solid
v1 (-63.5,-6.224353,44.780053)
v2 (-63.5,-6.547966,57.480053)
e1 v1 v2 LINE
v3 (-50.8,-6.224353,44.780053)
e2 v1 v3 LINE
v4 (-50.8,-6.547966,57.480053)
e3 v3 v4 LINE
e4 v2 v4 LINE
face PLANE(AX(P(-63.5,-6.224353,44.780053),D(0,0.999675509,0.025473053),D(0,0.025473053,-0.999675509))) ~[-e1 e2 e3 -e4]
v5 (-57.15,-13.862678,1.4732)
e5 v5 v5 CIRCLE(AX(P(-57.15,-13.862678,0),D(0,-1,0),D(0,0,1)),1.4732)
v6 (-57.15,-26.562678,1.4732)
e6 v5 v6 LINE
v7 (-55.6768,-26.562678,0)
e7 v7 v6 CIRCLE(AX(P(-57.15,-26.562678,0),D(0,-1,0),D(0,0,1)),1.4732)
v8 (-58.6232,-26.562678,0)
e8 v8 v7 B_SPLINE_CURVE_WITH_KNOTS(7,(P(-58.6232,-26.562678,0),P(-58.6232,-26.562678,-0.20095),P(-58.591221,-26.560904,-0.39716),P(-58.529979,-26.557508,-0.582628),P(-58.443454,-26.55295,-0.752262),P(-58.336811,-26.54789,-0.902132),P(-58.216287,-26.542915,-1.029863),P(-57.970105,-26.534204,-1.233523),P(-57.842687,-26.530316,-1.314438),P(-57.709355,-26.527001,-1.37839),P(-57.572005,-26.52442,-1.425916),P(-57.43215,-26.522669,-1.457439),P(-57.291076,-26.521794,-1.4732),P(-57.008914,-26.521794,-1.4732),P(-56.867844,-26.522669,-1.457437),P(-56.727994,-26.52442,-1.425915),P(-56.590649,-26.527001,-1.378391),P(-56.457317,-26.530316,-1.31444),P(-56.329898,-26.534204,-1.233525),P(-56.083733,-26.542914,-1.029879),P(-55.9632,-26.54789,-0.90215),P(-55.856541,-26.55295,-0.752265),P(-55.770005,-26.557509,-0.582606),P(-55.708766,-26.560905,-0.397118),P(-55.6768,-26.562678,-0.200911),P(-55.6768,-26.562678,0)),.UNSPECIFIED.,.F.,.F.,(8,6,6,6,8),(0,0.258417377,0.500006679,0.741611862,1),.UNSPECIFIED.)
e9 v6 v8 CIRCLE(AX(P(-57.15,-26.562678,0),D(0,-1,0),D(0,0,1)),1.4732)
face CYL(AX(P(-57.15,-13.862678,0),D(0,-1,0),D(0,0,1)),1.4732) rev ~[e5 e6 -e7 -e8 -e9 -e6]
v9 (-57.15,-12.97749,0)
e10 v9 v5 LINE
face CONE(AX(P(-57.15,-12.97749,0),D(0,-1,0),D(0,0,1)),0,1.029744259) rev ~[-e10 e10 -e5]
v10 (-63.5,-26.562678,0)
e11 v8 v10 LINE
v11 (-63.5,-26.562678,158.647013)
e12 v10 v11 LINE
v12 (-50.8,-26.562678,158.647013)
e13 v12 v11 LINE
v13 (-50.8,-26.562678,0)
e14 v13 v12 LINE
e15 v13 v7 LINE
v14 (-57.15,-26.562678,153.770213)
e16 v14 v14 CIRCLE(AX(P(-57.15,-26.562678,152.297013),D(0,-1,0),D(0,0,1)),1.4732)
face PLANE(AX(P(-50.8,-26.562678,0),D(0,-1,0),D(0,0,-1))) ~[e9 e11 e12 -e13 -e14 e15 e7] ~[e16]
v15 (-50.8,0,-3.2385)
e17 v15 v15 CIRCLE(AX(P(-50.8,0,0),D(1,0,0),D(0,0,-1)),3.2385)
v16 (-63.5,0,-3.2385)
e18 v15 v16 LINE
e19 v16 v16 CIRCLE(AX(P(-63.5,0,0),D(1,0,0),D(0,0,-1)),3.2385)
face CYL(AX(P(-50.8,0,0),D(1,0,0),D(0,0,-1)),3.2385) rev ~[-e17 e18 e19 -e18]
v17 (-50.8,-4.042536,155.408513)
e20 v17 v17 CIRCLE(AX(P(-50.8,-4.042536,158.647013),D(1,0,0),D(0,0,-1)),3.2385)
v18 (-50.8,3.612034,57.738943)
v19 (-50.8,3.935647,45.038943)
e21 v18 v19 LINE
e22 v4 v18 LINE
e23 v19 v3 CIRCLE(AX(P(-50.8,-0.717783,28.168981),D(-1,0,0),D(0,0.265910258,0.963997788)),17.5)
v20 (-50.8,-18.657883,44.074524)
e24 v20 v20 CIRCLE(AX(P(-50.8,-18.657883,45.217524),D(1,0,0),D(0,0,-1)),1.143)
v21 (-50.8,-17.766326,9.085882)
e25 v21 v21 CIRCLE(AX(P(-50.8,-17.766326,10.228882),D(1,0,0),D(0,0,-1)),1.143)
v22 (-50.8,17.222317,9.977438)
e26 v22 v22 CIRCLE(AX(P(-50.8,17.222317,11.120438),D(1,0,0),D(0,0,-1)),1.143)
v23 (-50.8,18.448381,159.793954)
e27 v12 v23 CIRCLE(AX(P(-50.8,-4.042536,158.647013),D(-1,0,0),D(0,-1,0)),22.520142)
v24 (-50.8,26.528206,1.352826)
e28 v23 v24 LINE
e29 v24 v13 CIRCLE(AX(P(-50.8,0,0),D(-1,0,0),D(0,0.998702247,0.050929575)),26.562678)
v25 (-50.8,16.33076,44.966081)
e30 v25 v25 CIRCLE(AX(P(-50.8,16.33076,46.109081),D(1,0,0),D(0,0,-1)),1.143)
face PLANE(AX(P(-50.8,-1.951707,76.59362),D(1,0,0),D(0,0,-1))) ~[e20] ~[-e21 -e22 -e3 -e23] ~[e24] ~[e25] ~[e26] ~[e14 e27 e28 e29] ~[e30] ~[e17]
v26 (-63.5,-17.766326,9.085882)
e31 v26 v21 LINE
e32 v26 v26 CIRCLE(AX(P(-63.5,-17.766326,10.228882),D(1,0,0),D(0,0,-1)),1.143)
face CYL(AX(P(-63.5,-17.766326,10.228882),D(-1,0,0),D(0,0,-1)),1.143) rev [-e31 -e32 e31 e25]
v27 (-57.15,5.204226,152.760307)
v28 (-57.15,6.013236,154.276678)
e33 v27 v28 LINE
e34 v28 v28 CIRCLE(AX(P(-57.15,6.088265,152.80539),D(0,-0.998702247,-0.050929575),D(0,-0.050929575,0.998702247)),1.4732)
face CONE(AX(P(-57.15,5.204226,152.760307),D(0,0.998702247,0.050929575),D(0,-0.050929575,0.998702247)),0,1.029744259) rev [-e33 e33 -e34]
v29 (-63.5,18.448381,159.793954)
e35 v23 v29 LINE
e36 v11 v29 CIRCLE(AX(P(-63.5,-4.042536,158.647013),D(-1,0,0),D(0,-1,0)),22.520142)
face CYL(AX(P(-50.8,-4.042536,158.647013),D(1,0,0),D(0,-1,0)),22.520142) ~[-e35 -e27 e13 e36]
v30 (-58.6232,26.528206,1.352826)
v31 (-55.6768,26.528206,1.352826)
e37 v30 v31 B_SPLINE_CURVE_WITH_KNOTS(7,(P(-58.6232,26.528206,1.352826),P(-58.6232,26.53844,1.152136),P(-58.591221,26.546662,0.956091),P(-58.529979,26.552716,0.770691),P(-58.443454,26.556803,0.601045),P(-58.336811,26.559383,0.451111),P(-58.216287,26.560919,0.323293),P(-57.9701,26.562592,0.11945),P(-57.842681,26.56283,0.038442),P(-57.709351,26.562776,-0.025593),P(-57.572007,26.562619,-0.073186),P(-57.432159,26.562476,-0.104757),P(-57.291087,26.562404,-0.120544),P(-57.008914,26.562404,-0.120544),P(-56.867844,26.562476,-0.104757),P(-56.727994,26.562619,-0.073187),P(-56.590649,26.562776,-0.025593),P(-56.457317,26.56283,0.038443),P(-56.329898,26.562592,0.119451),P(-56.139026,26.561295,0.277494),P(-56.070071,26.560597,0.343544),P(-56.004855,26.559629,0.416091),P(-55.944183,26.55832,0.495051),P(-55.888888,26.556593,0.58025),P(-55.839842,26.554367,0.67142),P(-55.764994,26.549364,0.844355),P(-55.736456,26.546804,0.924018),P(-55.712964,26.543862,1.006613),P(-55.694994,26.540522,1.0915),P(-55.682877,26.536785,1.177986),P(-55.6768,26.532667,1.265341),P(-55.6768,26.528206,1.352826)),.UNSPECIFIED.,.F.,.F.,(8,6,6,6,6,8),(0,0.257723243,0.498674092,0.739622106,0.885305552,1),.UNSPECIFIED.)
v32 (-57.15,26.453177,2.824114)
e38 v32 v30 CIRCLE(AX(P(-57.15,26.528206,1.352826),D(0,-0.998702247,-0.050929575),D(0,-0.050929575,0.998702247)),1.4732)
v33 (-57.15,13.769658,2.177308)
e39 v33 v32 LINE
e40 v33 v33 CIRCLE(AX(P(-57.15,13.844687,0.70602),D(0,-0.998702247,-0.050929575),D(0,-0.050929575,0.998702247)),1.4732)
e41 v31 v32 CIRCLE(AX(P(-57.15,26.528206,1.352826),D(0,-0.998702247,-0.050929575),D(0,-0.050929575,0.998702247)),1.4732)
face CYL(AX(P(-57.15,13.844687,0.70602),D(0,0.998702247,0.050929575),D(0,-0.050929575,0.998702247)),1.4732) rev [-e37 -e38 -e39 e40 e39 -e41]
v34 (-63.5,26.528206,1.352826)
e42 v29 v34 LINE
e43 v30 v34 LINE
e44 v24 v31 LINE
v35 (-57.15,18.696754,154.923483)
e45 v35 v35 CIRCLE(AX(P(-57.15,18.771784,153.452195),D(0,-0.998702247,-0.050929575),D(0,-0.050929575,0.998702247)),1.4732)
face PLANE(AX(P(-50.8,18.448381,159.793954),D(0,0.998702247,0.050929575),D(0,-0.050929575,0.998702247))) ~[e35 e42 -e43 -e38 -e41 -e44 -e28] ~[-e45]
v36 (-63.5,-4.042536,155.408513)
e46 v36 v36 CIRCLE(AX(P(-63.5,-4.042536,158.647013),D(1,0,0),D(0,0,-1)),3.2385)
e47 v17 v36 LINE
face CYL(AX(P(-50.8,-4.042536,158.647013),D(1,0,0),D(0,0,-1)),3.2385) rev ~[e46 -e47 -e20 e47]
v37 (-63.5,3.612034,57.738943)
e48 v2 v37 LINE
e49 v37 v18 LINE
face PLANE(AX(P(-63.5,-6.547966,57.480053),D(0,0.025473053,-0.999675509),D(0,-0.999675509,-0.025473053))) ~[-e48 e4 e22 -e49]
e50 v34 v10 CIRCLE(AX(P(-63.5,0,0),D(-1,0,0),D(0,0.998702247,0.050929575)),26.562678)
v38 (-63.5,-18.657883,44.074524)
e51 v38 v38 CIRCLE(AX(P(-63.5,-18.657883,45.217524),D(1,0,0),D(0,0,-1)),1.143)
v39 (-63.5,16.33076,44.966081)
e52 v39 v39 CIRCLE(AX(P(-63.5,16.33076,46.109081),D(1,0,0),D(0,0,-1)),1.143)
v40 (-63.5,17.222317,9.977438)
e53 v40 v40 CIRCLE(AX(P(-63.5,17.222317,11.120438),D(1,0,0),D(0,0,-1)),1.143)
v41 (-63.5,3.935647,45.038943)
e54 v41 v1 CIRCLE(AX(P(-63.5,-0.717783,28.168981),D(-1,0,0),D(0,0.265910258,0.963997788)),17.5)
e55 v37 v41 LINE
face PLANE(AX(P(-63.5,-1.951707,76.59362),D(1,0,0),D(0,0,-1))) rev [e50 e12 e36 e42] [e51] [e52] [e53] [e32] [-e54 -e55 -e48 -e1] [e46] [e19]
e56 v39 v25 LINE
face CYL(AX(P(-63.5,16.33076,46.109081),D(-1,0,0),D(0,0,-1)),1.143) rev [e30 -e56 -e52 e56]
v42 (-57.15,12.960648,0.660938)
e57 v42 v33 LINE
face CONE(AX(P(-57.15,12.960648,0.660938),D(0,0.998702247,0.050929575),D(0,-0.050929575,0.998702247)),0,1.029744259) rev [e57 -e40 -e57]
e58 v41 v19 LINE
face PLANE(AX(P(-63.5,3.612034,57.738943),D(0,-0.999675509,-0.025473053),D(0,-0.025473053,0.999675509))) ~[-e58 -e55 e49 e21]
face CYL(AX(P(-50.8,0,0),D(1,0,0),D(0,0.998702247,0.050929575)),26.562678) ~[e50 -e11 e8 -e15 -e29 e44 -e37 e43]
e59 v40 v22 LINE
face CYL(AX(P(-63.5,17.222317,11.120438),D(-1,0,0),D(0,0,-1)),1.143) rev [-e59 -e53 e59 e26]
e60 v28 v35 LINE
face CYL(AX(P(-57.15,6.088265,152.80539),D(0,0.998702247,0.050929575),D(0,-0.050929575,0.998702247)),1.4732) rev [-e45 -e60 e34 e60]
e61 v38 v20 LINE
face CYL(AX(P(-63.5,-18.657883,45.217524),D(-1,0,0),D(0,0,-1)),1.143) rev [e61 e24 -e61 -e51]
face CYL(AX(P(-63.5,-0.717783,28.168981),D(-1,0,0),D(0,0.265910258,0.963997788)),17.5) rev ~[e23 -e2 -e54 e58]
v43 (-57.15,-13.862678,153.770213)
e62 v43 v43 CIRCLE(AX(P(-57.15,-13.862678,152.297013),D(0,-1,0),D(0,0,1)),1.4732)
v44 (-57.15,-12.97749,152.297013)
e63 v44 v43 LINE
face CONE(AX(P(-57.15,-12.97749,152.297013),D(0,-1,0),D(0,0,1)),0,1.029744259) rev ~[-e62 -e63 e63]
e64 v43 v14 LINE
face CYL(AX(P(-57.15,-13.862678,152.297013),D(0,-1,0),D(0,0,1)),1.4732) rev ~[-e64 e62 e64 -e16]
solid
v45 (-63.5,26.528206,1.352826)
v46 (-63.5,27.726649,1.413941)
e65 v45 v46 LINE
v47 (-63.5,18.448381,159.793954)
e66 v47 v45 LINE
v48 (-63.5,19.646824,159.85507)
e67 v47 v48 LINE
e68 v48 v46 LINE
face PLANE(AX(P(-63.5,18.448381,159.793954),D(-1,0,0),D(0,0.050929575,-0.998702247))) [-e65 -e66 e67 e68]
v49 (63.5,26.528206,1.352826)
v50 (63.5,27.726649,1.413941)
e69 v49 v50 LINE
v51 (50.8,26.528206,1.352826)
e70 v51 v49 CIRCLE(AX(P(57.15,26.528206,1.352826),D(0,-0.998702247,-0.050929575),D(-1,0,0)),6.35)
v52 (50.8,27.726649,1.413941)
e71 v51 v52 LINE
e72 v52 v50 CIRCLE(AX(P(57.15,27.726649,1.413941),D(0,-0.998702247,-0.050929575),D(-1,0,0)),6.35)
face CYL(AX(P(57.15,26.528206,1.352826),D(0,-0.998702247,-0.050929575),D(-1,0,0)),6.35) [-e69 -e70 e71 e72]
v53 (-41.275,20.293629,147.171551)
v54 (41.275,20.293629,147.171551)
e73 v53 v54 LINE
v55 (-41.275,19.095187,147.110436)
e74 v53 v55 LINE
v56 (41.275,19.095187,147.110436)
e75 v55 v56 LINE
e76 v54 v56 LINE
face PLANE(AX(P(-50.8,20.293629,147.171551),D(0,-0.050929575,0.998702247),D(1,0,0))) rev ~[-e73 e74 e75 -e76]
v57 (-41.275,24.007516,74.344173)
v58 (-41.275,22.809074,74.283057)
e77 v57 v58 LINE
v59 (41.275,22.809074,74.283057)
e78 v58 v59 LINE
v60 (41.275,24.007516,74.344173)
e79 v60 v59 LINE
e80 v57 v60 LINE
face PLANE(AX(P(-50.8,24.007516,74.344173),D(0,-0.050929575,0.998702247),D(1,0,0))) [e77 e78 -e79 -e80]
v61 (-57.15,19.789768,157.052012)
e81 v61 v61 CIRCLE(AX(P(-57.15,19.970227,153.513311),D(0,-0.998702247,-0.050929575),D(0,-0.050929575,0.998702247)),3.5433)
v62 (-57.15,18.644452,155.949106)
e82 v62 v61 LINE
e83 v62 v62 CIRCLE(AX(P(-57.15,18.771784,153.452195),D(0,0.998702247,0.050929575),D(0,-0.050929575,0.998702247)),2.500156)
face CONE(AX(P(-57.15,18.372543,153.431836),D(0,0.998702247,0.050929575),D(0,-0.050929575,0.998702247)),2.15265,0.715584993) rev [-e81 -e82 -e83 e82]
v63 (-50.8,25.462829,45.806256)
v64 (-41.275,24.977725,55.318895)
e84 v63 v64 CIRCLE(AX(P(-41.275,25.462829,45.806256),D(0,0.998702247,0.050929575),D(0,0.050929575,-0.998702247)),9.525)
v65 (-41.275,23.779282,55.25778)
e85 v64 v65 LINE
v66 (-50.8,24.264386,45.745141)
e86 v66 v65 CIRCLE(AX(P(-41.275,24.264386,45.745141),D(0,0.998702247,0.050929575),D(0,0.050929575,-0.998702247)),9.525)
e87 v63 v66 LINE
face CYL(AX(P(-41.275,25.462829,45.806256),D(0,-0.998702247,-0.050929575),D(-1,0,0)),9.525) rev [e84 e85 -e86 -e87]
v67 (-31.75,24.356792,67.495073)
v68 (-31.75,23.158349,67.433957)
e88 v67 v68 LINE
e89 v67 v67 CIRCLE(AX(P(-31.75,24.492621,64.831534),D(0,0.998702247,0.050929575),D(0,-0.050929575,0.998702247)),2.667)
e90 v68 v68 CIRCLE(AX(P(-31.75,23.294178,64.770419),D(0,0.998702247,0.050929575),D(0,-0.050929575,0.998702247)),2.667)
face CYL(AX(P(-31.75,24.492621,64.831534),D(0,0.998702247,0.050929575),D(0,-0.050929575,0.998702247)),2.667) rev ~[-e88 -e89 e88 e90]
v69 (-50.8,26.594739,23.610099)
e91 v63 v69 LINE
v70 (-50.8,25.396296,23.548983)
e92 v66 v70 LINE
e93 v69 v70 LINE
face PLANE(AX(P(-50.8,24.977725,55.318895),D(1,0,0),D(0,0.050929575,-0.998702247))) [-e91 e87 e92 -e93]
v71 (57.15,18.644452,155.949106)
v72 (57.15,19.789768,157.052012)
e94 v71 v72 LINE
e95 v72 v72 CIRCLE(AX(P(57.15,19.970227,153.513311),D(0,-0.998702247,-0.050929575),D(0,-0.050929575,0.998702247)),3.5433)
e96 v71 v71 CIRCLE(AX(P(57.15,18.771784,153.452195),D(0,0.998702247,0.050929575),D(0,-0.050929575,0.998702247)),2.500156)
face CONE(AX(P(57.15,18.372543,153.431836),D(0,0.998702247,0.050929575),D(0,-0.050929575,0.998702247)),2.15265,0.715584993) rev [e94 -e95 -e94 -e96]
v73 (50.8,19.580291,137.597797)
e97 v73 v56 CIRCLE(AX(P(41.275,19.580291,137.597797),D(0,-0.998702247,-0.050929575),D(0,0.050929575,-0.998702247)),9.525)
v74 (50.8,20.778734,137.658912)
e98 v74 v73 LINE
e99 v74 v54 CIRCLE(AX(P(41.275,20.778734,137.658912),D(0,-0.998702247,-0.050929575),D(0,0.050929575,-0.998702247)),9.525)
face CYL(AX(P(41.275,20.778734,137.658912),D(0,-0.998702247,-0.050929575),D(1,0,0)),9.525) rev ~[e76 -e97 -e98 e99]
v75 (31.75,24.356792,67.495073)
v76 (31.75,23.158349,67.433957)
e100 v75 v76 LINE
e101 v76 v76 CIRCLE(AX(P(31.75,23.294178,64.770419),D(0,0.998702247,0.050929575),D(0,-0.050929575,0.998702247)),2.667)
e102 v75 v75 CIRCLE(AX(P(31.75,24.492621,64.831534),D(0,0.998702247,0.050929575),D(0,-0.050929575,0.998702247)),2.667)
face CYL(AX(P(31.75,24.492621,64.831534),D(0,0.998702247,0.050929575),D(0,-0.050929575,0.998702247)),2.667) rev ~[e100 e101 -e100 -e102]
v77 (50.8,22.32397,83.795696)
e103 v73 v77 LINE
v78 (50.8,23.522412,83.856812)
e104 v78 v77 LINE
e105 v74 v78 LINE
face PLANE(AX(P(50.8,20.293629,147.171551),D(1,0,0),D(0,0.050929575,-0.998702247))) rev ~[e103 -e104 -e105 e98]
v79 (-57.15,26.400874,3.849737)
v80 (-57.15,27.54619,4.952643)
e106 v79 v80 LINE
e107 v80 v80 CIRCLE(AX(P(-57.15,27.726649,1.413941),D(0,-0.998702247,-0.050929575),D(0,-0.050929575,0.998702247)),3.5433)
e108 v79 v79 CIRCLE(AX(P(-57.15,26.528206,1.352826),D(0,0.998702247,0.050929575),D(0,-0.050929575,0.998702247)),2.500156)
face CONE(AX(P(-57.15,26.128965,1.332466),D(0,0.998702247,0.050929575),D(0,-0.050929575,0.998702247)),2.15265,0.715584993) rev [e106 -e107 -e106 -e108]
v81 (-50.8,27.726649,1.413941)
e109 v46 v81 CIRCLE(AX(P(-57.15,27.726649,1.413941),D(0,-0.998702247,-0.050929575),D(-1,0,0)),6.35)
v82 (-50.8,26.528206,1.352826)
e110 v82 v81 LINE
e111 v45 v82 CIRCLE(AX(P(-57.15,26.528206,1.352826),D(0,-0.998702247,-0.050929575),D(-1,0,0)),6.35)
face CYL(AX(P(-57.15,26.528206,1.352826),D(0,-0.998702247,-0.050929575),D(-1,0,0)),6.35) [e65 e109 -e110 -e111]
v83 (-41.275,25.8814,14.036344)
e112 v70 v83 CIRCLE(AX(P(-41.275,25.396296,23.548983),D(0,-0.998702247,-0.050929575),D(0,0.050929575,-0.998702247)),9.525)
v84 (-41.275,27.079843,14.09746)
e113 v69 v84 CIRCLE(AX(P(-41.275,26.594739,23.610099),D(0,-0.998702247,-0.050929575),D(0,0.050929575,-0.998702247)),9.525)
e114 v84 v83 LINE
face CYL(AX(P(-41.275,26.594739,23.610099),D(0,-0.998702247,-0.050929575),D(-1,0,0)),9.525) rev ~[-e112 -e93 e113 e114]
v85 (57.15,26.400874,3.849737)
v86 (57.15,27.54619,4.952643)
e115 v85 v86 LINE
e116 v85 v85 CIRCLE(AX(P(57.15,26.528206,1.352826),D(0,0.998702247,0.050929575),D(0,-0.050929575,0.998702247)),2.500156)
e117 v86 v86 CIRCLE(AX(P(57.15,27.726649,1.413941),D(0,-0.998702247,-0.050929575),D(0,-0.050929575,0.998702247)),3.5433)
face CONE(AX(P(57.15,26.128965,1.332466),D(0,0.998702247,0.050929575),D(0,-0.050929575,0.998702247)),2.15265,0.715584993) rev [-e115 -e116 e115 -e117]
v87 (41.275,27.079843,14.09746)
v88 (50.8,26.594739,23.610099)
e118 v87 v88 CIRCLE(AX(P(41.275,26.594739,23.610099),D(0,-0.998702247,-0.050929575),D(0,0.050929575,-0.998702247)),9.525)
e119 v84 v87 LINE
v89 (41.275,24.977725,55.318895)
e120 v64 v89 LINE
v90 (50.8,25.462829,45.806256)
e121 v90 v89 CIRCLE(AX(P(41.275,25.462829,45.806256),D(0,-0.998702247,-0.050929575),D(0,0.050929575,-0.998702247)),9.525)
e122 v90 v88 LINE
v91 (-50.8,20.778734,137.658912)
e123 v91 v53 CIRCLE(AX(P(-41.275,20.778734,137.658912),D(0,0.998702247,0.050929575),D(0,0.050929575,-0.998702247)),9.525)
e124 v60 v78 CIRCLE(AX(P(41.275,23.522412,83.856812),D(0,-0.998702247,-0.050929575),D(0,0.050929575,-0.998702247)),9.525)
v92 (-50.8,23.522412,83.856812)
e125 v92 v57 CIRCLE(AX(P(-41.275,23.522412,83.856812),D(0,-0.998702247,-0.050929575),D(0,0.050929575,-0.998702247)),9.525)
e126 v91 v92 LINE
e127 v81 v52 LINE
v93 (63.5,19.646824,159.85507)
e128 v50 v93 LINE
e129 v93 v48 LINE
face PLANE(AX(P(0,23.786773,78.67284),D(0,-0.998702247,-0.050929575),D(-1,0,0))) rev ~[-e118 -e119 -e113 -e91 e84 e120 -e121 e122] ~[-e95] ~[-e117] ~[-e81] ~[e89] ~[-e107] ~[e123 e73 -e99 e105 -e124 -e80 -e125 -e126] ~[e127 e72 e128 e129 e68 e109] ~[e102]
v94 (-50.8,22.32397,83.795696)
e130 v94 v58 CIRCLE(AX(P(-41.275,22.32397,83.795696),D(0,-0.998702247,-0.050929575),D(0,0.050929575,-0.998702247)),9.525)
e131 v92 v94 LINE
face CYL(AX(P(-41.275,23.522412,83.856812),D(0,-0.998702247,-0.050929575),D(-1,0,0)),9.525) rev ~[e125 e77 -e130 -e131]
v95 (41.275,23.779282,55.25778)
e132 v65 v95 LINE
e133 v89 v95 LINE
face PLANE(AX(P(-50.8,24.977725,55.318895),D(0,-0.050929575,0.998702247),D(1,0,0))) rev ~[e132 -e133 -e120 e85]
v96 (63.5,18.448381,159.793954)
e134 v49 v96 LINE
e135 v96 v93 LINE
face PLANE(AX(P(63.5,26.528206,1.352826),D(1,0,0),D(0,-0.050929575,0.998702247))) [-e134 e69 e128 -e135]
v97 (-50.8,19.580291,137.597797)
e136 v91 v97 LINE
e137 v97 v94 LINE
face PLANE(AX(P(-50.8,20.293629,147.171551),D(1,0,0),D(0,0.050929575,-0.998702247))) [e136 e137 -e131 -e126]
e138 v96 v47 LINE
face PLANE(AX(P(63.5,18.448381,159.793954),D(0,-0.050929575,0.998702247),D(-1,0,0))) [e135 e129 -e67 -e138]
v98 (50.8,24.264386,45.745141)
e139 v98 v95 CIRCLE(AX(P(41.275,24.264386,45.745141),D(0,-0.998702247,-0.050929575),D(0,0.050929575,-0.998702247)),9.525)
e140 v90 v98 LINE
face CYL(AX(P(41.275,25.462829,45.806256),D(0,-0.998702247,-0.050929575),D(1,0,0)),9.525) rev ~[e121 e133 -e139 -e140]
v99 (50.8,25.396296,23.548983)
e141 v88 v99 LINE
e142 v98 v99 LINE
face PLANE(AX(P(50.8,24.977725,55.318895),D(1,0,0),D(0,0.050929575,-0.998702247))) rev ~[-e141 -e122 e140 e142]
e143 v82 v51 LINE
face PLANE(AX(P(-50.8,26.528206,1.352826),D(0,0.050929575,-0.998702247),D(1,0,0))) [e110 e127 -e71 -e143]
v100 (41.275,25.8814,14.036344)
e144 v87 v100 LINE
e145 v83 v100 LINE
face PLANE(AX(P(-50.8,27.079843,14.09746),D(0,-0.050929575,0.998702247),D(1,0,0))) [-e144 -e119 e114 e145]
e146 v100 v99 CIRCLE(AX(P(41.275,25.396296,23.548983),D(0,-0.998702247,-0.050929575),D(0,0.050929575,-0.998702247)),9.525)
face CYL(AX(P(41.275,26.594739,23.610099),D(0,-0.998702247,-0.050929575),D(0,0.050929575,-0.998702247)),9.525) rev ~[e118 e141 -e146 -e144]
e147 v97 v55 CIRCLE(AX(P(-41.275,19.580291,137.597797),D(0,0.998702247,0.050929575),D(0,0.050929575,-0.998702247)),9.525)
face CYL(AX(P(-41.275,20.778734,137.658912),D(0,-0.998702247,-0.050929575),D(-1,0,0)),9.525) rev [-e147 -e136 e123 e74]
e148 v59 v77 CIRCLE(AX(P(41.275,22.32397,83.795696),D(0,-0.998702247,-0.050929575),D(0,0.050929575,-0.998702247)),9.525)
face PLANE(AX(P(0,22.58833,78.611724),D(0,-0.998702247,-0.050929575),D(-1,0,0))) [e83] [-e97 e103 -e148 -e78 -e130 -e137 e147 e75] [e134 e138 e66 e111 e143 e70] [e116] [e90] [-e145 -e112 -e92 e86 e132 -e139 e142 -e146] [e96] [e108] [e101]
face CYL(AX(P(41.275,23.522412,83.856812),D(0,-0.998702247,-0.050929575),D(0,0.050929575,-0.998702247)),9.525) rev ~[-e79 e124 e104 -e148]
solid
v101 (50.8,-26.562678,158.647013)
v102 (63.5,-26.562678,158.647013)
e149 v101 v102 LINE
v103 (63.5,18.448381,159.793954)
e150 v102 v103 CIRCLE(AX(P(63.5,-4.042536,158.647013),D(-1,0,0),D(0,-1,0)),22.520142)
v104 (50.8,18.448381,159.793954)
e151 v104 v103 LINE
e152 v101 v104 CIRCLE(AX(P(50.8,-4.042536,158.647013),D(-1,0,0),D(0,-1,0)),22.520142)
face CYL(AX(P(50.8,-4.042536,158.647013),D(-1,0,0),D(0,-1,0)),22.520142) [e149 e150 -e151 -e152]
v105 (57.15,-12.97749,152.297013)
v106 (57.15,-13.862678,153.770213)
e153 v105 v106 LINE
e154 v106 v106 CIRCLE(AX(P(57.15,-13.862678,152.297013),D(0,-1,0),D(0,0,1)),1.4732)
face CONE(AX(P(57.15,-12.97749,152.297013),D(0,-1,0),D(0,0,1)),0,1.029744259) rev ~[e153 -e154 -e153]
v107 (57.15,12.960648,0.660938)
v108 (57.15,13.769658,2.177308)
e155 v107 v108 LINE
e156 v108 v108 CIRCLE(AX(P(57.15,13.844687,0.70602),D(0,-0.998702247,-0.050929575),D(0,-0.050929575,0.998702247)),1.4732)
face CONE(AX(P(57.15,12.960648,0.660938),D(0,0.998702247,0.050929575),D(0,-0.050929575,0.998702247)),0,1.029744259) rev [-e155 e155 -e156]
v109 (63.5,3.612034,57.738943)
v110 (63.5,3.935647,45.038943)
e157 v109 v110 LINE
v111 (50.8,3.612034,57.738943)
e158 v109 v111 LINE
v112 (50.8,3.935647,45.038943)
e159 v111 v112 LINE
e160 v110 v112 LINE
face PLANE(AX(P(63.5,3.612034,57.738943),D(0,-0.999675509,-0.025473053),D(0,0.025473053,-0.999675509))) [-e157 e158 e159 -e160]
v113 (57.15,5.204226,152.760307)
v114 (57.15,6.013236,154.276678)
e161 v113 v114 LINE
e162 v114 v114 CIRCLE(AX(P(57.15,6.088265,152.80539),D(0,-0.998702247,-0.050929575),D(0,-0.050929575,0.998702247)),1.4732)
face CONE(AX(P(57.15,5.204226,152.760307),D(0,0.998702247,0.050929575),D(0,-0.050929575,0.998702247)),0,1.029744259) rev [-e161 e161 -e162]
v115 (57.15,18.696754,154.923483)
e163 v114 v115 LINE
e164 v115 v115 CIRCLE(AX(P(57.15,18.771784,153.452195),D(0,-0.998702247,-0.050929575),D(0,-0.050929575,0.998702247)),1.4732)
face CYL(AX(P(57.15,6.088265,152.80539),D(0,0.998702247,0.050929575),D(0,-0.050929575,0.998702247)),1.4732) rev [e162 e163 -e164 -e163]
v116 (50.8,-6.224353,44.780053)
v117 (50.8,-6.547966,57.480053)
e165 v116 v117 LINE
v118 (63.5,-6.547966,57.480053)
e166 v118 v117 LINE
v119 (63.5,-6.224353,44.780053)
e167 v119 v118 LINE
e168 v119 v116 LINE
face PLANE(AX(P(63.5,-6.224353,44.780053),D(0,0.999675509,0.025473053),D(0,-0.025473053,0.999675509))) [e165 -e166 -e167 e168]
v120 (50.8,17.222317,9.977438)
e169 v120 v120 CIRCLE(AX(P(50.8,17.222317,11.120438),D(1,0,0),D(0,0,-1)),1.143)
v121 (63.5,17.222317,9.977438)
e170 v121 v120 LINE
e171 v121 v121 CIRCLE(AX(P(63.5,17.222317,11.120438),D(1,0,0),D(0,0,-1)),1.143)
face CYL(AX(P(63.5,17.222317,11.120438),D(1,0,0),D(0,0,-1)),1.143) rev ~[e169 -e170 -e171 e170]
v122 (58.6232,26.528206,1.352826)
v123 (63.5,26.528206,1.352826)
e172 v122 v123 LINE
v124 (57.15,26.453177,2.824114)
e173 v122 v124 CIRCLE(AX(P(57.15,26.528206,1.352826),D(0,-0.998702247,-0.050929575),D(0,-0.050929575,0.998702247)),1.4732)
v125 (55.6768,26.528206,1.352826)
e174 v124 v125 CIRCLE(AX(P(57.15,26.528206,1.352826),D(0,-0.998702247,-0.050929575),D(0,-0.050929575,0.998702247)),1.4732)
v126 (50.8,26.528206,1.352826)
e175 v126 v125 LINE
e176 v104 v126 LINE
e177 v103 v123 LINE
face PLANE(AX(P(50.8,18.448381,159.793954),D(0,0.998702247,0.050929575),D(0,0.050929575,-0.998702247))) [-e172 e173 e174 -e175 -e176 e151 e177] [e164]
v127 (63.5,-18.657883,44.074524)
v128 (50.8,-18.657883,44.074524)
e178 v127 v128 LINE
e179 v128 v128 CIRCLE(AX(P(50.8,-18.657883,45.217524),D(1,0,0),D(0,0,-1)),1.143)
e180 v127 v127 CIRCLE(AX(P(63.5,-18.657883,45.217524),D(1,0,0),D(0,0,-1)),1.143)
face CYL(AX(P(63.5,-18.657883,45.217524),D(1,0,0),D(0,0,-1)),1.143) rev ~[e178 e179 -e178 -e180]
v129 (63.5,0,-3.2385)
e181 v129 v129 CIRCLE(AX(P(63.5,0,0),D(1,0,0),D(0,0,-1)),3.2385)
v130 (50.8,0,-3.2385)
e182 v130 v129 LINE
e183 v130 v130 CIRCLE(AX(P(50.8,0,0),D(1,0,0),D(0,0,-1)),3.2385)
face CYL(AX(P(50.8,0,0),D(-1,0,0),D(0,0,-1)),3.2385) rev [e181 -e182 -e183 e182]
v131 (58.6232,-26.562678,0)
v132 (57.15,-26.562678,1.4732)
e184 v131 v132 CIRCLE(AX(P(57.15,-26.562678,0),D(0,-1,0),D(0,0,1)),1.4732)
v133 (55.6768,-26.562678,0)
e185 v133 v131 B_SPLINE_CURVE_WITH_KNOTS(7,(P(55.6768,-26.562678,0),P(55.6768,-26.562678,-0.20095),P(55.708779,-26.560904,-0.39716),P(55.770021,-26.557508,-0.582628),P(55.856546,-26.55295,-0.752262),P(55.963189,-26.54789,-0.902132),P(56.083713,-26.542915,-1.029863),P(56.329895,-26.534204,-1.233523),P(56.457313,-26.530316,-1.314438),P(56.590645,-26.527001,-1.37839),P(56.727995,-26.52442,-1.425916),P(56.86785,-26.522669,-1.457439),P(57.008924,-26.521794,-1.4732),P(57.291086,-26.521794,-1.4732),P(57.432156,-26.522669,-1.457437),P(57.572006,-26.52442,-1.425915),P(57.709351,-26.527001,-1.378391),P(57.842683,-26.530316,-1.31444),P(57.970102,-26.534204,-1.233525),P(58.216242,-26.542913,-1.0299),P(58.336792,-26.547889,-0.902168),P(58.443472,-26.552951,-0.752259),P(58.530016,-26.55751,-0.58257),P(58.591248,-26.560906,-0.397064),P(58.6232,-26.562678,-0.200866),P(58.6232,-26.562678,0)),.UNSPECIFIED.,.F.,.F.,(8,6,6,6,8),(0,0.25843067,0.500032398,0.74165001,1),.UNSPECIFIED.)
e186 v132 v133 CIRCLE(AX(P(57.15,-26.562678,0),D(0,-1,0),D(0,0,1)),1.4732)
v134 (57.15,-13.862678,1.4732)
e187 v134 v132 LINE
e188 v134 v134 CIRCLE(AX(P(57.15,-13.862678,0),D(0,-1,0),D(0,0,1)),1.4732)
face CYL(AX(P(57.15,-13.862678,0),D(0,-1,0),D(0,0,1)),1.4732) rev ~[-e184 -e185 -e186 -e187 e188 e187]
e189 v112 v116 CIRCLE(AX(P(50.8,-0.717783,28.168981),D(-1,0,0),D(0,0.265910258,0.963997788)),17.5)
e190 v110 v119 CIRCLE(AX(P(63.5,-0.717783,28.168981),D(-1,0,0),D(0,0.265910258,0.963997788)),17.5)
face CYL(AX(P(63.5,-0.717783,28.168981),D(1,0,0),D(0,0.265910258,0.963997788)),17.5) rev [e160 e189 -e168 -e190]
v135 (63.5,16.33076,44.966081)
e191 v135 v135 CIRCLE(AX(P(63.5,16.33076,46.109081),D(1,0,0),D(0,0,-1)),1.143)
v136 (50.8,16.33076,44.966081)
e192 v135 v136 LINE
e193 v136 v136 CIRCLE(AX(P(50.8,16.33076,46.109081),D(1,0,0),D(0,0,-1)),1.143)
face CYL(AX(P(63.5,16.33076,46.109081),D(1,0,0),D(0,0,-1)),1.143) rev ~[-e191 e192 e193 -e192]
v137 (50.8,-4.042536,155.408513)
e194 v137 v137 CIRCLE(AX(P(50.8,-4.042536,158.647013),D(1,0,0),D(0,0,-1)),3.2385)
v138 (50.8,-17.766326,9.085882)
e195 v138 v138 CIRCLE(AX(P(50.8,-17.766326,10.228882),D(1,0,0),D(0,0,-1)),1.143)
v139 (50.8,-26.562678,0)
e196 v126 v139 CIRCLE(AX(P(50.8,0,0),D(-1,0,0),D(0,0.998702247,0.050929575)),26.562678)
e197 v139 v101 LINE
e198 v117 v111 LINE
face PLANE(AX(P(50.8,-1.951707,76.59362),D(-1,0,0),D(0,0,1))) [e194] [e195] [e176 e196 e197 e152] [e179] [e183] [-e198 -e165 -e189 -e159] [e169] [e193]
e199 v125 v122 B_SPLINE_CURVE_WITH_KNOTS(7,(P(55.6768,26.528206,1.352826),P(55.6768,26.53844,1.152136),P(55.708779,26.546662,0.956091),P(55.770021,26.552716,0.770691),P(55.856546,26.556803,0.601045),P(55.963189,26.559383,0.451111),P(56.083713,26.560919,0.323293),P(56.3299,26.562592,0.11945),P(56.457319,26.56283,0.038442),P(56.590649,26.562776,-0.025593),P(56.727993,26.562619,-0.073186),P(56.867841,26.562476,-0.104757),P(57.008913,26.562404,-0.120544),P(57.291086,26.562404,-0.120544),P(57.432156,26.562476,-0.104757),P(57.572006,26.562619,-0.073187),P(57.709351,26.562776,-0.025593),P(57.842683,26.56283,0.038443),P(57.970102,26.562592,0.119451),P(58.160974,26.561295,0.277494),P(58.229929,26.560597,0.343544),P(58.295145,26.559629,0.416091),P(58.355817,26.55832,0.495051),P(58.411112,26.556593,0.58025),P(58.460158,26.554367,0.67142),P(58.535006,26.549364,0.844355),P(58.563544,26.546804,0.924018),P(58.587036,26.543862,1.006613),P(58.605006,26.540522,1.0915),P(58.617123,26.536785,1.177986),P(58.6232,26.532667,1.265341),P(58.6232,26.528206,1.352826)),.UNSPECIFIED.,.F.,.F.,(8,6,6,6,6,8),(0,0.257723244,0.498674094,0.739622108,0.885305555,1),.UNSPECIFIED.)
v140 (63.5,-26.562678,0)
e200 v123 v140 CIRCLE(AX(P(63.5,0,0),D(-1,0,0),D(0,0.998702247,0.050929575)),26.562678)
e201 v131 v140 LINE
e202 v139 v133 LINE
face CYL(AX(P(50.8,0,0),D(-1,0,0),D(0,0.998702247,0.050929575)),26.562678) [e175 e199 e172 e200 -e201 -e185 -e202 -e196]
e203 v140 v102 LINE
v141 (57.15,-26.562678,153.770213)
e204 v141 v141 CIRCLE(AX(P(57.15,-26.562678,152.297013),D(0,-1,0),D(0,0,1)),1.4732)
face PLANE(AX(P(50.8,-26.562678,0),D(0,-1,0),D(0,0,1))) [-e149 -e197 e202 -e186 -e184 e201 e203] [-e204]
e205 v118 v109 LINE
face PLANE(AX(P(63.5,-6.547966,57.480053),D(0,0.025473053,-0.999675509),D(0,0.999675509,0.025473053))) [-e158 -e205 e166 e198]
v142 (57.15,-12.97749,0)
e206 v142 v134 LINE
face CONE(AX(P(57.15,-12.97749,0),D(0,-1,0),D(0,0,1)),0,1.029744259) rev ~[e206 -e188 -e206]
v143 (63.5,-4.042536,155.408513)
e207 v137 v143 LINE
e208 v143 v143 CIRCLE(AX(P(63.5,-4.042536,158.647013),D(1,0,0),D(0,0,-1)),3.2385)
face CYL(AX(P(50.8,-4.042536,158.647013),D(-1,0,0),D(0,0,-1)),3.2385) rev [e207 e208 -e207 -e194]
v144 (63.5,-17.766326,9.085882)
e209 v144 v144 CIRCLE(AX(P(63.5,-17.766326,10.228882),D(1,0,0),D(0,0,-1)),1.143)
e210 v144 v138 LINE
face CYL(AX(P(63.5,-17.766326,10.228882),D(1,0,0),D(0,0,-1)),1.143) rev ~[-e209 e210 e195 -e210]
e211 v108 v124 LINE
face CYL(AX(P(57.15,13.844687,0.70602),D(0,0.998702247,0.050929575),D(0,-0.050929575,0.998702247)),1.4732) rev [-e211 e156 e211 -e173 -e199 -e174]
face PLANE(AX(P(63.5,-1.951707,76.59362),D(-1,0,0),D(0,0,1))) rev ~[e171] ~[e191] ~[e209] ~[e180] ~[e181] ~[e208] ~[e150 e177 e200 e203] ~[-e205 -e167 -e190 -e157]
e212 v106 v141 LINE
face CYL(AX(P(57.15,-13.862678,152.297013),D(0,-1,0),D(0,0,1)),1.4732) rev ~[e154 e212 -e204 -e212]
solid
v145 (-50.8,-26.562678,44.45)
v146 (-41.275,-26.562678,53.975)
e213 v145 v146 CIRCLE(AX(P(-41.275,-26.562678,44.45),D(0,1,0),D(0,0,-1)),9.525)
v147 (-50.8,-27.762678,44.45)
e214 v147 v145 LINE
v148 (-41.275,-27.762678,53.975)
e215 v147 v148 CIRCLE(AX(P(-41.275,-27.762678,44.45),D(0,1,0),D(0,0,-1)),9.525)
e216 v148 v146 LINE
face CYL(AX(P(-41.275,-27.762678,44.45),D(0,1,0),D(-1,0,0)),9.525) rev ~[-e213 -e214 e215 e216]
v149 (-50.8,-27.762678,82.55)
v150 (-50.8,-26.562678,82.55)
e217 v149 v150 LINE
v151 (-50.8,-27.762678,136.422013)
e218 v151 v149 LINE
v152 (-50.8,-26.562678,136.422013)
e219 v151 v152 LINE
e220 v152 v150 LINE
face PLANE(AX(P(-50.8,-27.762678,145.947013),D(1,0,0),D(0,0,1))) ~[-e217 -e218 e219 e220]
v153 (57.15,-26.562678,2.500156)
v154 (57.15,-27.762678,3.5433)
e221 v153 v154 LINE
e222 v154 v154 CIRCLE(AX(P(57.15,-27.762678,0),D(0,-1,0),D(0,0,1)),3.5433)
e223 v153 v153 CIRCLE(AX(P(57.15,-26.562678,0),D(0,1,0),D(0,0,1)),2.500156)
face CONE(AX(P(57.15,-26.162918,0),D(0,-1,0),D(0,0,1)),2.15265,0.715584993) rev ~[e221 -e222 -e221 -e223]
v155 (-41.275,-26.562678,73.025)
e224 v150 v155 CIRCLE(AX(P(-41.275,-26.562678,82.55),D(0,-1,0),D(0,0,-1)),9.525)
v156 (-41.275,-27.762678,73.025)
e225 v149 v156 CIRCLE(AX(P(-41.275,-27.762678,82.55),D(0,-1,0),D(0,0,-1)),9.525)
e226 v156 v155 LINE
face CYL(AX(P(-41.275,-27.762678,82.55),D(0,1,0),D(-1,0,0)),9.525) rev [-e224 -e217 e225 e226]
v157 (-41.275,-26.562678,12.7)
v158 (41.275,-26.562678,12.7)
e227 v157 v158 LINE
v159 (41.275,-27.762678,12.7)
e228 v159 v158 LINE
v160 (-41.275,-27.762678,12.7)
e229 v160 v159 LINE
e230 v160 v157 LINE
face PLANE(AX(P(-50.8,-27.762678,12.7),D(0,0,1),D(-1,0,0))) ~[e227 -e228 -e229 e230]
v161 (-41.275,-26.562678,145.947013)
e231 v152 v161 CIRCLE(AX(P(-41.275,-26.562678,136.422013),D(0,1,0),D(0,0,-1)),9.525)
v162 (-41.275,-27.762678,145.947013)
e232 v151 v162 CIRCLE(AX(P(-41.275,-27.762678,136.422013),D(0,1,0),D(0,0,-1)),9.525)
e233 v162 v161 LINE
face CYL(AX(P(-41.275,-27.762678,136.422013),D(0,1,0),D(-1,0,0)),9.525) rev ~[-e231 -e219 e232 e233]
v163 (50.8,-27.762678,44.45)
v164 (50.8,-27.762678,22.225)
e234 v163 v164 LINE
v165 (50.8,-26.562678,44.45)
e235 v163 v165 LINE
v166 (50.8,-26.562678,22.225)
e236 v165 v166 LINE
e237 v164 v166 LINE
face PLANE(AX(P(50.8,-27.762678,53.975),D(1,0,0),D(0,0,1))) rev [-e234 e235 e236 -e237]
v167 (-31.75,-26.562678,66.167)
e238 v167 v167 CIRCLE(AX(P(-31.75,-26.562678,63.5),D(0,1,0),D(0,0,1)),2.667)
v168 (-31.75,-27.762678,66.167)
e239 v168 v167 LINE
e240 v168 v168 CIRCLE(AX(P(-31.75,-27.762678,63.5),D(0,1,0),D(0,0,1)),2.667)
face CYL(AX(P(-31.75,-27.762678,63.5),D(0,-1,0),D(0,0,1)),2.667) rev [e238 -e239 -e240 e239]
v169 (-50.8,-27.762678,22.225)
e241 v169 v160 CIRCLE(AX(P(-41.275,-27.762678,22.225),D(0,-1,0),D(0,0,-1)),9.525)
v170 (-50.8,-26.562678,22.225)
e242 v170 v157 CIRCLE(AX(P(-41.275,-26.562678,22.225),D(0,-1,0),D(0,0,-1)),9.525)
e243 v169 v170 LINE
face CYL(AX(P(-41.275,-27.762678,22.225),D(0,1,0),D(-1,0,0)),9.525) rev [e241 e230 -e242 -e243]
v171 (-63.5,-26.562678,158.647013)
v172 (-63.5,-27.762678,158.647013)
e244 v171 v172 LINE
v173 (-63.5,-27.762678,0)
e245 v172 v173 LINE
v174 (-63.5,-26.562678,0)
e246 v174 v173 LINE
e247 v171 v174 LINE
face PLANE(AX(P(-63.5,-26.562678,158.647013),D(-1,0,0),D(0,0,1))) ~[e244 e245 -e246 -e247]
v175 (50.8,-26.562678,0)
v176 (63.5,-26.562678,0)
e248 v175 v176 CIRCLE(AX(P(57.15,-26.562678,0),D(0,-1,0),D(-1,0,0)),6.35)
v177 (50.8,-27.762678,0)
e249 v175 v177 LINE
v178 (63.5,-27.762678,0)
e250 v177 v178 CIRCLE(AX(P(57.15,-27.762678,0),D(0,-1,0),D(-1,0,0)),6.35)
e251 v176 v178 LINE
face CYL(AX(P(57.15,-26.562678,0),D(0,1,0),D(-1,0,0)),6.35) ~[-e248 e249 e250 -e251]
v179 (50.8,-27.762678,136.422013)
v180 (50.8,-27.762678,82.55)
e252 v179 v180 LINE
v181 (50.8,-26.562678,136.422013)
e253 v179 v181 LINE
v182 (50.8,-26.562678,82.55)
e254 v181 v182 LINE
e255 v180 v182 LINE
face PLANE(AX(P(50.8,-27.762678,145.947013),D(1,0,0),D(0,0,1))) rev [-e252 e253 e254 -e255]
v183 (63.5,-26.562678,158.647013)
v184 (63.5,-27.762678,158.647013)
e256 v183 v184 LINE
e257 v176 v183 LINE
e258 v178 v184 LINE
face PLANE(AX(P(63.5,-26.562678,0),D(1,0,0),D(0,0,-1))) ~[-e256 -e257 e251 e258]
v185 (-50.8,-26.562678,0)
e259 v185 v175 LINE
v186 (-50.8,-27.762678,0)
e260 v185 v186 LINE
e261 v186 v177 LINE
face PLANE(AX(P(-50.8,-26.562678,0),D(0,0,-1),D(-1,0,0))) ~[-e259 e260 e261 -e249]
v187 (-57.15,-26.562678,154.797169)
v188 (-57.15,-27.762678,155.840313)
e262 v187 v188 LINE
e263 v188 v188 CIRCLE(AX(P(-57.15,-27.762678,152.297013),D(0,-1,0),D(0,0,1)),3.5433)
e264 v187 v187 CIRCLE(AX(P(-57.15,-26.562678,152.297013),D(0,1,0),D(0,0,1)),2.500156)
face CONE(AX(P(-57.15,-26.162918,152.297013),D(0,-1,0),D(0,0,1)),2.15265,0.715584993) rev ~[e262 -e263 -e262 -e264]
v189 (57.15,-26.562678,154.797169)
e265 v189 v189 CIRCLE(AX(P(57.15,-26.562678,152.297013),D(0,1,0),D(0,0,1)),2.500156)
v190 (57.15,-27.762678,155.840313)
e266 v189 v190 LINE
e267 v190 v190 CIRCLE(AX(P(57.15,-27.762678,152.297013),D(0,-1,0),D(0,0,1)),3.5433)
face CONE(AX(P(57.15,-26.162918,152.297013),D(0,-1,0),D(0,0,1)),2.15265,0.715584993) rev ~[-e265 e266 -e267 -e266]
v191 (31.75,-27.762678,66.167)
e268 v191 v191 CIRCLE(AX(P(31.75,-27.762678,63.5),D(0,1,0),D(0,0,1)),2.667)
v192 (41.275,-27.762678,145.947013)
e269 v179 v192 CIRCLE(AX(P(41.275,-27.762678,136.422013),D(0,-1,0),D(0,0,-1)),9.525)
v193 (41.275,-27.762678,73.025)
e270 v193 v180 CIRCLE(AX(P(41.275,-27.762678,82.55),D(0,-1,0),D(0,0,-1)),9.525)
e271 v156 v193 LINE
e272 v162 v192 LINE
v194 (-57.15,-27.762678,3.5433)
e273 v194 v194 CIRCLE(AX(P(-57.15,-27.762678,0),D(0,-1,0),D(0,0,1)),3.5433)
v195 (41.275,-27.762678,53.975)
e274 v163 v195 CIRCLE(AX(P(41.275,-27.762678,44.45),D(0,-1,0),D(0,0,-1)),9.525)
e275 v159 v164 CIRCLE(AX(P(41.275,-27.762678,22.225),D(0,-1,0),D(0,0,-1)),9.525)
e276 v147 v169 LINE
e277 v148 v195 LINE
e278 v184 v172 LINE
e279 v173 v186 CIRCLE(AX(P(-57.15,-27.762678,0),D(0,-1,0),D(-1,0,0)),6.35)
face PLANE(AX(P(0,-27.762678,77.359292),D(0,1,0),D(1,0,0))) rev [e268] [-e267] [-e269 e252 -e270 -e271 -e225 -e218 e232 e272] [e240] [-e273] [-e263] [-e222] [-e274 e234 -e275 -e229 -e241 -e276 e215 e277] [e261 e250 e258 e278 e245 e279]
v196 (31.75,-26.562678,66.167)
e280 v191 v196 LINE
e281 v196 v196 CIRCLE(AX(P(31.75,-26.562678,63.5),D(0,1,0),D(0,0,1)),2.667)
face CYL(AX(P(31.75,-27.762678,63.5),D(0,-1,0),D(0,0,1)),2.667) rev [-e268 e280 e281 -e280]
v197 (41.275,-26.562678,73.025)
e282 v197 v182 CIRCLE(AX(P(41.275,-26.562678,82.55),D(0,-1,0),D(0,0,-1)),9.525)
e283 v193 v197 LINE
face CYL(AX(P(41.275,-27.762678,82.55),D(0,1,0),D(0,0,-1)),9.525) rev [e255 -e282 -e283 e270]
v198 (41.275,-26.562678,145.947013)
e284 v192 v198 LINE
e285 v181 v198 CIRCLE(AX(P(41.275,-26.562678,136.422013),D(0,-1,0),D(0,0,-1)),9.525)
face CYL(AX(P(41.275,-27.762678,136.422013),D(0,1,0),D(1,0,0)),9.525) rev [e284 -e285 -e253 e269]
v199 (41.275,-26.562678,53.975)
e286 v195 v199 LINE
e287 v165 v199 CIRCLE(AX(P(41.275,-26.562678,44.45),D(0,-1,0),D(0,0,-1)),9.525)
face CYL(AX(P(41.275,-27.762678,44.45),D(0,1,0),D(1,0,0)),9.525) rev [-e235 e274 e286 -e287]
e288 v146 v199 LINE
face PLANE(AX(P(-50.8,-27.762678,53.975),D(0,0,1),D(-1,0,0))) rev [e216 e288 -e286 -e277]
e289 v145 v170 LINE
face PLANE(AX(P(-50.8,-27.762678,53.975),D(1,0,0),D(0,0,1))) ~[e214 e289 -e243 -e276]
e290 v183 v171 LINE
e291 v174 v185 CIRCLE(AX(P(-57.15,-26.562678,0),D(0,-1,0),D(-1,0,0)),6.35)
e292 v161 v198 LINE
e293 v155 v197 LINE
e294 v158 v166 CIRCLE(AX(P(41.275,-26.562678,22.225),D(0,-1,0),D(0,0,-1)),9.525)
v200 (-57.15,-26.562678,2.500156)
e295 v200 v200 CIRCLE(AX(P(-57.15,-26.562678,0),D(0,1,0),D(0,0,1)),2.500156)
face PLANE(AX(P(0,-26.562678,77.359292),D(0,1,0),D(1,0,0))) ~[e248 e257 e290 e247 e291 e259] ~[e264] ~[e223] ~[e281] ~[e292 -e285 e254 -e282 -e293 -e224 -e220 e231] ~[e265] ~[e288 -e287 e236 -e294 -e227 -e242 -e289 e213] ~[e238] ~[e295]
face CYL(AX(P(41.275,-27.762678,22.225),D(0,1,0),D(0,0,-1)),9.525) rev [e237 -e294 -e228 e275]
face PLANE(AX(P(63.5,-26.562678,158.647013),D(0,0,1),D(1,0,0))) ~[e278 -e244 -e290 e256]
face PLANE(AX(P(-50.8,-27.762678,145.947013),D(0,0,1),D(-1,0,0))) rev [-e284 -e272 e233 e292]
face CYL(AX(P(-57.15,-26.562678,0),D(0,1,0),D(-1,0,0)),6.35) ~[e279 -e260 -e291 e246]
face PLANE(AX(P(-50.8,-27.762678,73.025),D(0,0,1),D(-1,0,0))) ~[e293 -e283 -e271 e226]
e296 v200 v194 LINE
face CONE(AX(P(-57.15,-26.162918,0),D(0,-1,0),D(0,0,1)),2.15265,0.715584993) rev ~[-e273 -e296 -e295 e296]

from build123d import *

# Parameters (mm, degrees)
SKETCH1_R                                     = 3.2385
BOSS_EXTRUDE1_DEPTH                           = 12.7
CUT_EXTRUDE1_DEPTH                            = 12.7
SKETCH5_R                                     = 1.143
CUT_EXTRUDE3_DEPTH                            = 12.7
BOSS_EXTRUDE2_DEPTH                           = 1.2
CSK_FOR_6_FLAT_HEAD_MACHINE_SCREW1_AT_2_COUNT = 2
CSK_FOR_6_FLAT_HEAD_MACHINE_SCREW1_AT_2_PITCH = 114.3
CSK_FOR_6_FLAT_HEAD_MACHINE_SCREW1_AT_3_COUNT = 2
CSK_FOR_6_FLAT_HEAD_MACHINE_SCREW1_AT_3_PITCH = 152.297013138
CSK_FOR_6_FLAT_HEAD_MACHINE_SCREW1_AT_4_COUNT = 2
CSK_FOR_6_FLAT_HEAD_MACHINE_SCREW1_AT_4_PITCH = 190.417620536
SKETCH9_R                                     = 2.667
SKETCH9_W                                     = 101.6
SKETCH9_H                                     = 41.275
SKETCH9_H_2                                   = 72.922013138
CUT_EXTRUDE4_DEPTH                            = 1.2
FILLET1_R                                     = 9.525
F_32_0_116_DIAMETER_HOLE1_AT_2_COUNT          = 2
F_32_0_116_DIAMETER_HOLE1_AT_2_PITCH          = 152.297013138
F_32_0_116_DIAMETER_HOLE1_AT_3_COUNT          = 2
F_32_0_116_DIAMETER_HOLE1_AT_3_PITCH          = 190.417620536
F_32_0_116_DIAMETER_HOLE1_AT_4_COUNT          = 2
F_32_0_116_DIAMETER_HOLE1_AT_4_PITCH          = 114.3


with BuildPart() as part:
    # Sketch1 → Boss-Extrude1 (new body)
    with BuildSketch(Plane(origin=(50.8, 0, 0), x_dir=(0, 0, -1), z_dir=(1, 0, 0))):
        with BuildLine():
            Line((-159.793954402, 18.448381084), (-1.35282588, 26.528205981))
            ThreePointArc((-1.35282588, 26.528205981), (26.554058426, 0.676632501), (0, -26.562677773))
            Line((0, -26.562677773), (-158.647013138, -26.562677773))
            ThreePointArc((-158.647013138, -26.562677773), (-181.159847775, -4.616192333), (-159.793954402, 18.448381084))
        make_face()
        with Locations((-158.647013138, -4.042535555)):
            Circle(SKETCH1_R, mode=Mode.SUBTRACT)
        Circle(SKETCH1_R, mode=Mode.SUBTRACT)
    extrude(amount=BOSS_EXTRUDE1_DEPTH)

    # Sketch2 → Cut-Extrude1 (cut)
    with BuildSketch(Plane(origin=(63.5, 0, 0), x_dir=(0, 0, -1), z_dir=(1, 0, 0))):
        with BuildLine():
            Line((-44.780052565, -6.224353351), (-57.480052565, -6.547966135))
            Line((-57.480052565, -6.547966135), (-57.738942792, 3.612033865))
            Line((-57.738942792, 3.612033865), (-45.038942792, 3.935646649))
            ThreePointArc((-45.038942792, 3.935646649), (-10.674659994, -0.272004444), (-44.780052565, -6.224353351))
        make_face()
    extrude(amount=-CUT_EXTRUDE1_DEPTH, mode=Mode.SUBTRACT)

    # Sketch5 → Cut-Extrude3 (cut)
    with BuildSketch(Plane(origin=(63.5, 0, 0), x_dir=(0, 0, -1), z_dir=(1, 0, 0))):
        with Locations((-46.109081348, 16.330760157)):
            Circle(SKETCH5_R)
        with Locations((-11.120438424, 17.222317018)):
            Circle(SKETCH5_R)
        with Locations((-10.228881564, -17.766325906)):
            Circle(SKETCH5_R)
        with Locations((-45.217524487, -18.657882766)):
            Circle(SKETCH5_R)
    extrude(amount=-CUT_EXTRUDE3_DEPTH, mode=Mode.SUBTRACT)


with BuildPart() as body_2:
    # Mirror2: mirrored copy
    add(part.part.mirror(Plane(origin=(0, 0, 0), x_dir=(0, 0, 1), z_dir=(1, 0, 0))))

    # Sketch12 → #32 (0.116) Diameter Hole1 (revolve, cut)
    with BuildSketch(Plane(origin=(-57.15, 26.528205981, 1.35282588), x_dir=(0, -0.05092957463974298, 0.9987022471322545), z_dir=(1, 0, 0))):
        Polygon((0, 0), (0, 13.585187864), (1.4732, 12.7), (1.4732, 0), align=None)
    f_32_0_116_diameter_hole1 = revolve(axis=Axis((-57.15, 32.869965251, 1.676228679), (0, -0.9987022471322546, -0.05092957463974298)), mode=Mode.SUBTRACT)

    # #32 (0.116) Diameter Hole1 at 2: #32 (0.116) Diameter Hole1 ×2
    with Locations(*[Vector(0, -0.050929574639742965, 0.9987022471322545) * (i * F_32_0_116_DIAMETER_HOLE1_AT_2_PITCH) for i in range(1, F_32_0_116_DIAMETER_HOLE1_AT_2_COUNT)]):
        add(f_32_0_116_diameter_hole1, mode=Mode.SUBTRACT)

    # Mirror4: #32 (0.116) Diameter Hole1 across plane
    add(f_32_0_116_diameter_hole1.mirror(Plane(origin=(0, 0, 0), x_dir=(0, -0.025473053092880782, 0.9996755091359031), z_dir=(0, 0.9996755091359032, 0.025473053092880785))), mode=Mode.SUBTRACT)

    # Mirror4 copy 1 sketch → Mirror4 copy 1 (revolve, cut)
    with BuildSketch(Plane(origin=(-57.15, -26.562677773, 152.297013138), x_dir=(0, 0, 1), z_dir=(1, 0, 0))):
        Polygon((0, 0), (0, -13.585187864), (1.4732, -12.7), (1.4732, 0), align=None)
    revolve(axis=Axis((-57.15, -32.912677773, 152.297013138), (0, -1, 0)), mode=Mode.SUBTRACT)


with BuildPart() as body_3:
    # Sketch6 → Boss-Extrude2 (new body)
    with BuildSketch(Plane(origin=(0, 26.528205981, 1.35282588), x_dir=(1, 0, 0), z_dir=(0, 0.9987022471322545, 0.05092957463974298))):
        with BuildLine():
            Line((-50.8, 0), (50.8, 0))
            ThreePointArc((50.8, 0), (57.15, 6.35), (63.5, 0))
            Line((63.5, 0), (63.5, -158.647013138))
            Line((63.5, -158.647013138), (-63.5, -158.647013138))
            Line((-63.5, -158.647013138), (-63.5, 0))
            ThreePointArc((-63.5, 0), (-57.15, 6.35), (-50.8, 0))
        make_face()
    extrude(amount=BOSS_EXTRUDE2_DEPTH)

    # Sketch8 → CSK for #6 Flat Head Machine Screw1 (revolve, cut)
    with BuildSketch(Plane(origin=(-57.15, 27.726648678, 1.41394137), x_dir=(0, -0.05092957463974298, 0.9987022471322545), z_dir=(1, 0, 0))):
        Polygon((0, 0), (0, 24.524177773), (2.15265, 24.524177773), (2.15265, 1.599759826), (3.5433, 0), align=None)
    csk_for_6_flat_head_machine_screw1 = revolve(axis=Axis((-57.15, 34.068407947, 1.737344169), (0, -0.9987022471322545, -0.05092957463974298)), mode=Mode.SUBTRACT)

    # CSK for #6 Flat Head Machine Screw1 at 2: CSK for #6 Flat Head Machine Screw1 ×2
    with Locations(*[(i * CSK_FOR_6_FLAT_HEAD_MACHINE_SCREW1_AT_2_PITCH, 0, 0) for i in range(1, CSK_FOR_6_FLAT_HEAD_MACHINE_SCREW1_AT_2_COUNT)]):
        add(csk_for_6_flat_head_machine_screw1, mode=Mode.SUBTRACT)

    # CSK for #6 Flat Head Machine Screw1 at 3: CSK for #6 Flat Head Machine Screw1 ×2
    with Locations(*[Vector(0, -0.05092957463974298, 0.9987022471322545) * (i * CSK_FOR_6_FLAT_HEAD_MACHINE_SCREW1_AT_3_PITCH) for i in range(1, CSK_FOR_6_FLAT_HEAD_MACHINE_SCREW1_AT_3_COUNT)]):
        add(csk_for_6_flat_head_machine_screw1, mode=Mode.SUBTRACT)

    # CSK for #6 Flat Head Machine Screw1 at 4: CSK for #6 Flat Head Machine Screw1 ×2
    with Locations(*[Vector(0.6002595751287851, -0.04073374132163811, 0.7987673032768382) * (i * CSK_FOR_6_FLAT_HEAD_MACHINE_SCREW1_AT_4_PITCH) for i in range(1, CSK_FOR_6_FLAT_HEAD_MACHINE_SCREW1_AT_4_COUNT)]):
        add(csk_for_6_flat_head_machine_screw1, mode=Mode.SUBTRACT)

    # Sketch9 → Cut-Extrude4 (cut)
    with BuildSketch(Plane(origin=(0, 27.726648678, 1.41394137), x_dir=(1, 0, 0), z_dir=(0, 0.9987022471322545, 0.05092957463974298))):
        with Locations(Location((-31.75, -63.5, 0), (0, 0, 270))):
            Circle(SKETCH9_R)
        with Locations(Location((31.75, -63.5, 0), (0, 0, 270))):
            Circle(SKETCH9_R)
        with Locations((0, -33.3375)):
            Rectangle(SKETCH9_W, SKETCH9_H)
        with Locations((0, -109.486006569)):
            Rectangle(SKETCH9_W, SKETCH9_H_2)
    extrude(amount=-CUT_EXTRUDE4_DEPTH, mode=Mode.SUBTRACT)

    # Fillet1
    fillet1_edges = [body_3.edges().sort_by_distance(p)[0] for p in [
        (50.8, 24.378503539, 55.288337414),
        (50.8, 26.480621732, 14.066902164),
        (-50.8, 26.480621732, 14.066902164),
        (-50.8, 24.378503539, 55.288337414),
        (50.8, 19.694408031, 147.140993608),
        (50.8, 23.408295142, 74.313615222),
        (-50.8, 23.408295142, 74.313615222),
        (-50.8, 19.694408031, 147.140993608),
    ]]
    fillet(fillet1_edges, radius=FILLET1_R)


with BuildPart() as body_4:
    # Mirror3: mirrored copy
    add(body_3.part.mirror(Plane(origin=(0, 0, 0), x_dir=(0, -0.025473053092880782, 0.9996755091359031), z_dir=(0, 0.9996755091359032, 0.025473053092880785))))


with BuildPart() as part_1:
    add(part.part)

    # #32 (0.116) Diameter Hole1 at 3: #32 (0.116) Diameter Hole1 ×2
    with Locations(*[Vector(0.6002595751287851, -0.040733741321638095, 0.7987673032768382) * (i * F_32_0_116_DIAMETER_HOLE1_AT_3_PITCH) for i in range(1, F_32_0_116_DIAMETER_HOLE1_AT_3_COUNT)]):
        add(f_32_0_116_diameter_hole1, mode=Mode.SUBTRACT)

    # #32 (0.116) Diameter Hole1 at 4: #32 (0.116) Diameter Hole1 ×2
    with Locations(*[(i * F_32_0_116_DIAMETER_HOLE1_AT_4_PITCH, 0, 0) for i in range(1, F_32_0_116_DIAMETER_HOLE1_AT_4_COUNT)]):
        add(f_32_0_116_diameter_hole1, mode=Mode.SUBTRACT)

    # Mirror4 copy 2 sketch → Mirror4 copy 2 (revolve, cut)
    with BuildSketch(Plane(origin=(57.15, -26.562677773, 152.297013138), x_dir=(0, 0, 1), z_dir=(1, 0, 0))):
        Polygon((0, 0), (0, -13.585187864), (1.4732, -12.7), (1.4732, 0), align=None)
    revolve(axis=Axis((57.15, -32.912677773, 152.297013138), (0, -1, 0)), mode=Mode.SUBTRACT)

    # Mirror4 copy 3 sketch → Mirror4 copy 3 (revolve, cut)
    with BuildSketch(Plane(origin=(57.15, -26.562677773, 0), x_dir=(0, 0, 1), z_dir=(1, 0, 0))):
        Polygon((0, 0), (0, -13.585187864), (1.4732, -12.7), (1.4732, 0), align=None)
    revolve(axis=Axis((57.15, -32.912677773, 0), (0, -1, 0)), mode=Mode.SUBTRACT)


solid = Compound([body_2.part, body_3.part, body_4.part, part_1.part])
